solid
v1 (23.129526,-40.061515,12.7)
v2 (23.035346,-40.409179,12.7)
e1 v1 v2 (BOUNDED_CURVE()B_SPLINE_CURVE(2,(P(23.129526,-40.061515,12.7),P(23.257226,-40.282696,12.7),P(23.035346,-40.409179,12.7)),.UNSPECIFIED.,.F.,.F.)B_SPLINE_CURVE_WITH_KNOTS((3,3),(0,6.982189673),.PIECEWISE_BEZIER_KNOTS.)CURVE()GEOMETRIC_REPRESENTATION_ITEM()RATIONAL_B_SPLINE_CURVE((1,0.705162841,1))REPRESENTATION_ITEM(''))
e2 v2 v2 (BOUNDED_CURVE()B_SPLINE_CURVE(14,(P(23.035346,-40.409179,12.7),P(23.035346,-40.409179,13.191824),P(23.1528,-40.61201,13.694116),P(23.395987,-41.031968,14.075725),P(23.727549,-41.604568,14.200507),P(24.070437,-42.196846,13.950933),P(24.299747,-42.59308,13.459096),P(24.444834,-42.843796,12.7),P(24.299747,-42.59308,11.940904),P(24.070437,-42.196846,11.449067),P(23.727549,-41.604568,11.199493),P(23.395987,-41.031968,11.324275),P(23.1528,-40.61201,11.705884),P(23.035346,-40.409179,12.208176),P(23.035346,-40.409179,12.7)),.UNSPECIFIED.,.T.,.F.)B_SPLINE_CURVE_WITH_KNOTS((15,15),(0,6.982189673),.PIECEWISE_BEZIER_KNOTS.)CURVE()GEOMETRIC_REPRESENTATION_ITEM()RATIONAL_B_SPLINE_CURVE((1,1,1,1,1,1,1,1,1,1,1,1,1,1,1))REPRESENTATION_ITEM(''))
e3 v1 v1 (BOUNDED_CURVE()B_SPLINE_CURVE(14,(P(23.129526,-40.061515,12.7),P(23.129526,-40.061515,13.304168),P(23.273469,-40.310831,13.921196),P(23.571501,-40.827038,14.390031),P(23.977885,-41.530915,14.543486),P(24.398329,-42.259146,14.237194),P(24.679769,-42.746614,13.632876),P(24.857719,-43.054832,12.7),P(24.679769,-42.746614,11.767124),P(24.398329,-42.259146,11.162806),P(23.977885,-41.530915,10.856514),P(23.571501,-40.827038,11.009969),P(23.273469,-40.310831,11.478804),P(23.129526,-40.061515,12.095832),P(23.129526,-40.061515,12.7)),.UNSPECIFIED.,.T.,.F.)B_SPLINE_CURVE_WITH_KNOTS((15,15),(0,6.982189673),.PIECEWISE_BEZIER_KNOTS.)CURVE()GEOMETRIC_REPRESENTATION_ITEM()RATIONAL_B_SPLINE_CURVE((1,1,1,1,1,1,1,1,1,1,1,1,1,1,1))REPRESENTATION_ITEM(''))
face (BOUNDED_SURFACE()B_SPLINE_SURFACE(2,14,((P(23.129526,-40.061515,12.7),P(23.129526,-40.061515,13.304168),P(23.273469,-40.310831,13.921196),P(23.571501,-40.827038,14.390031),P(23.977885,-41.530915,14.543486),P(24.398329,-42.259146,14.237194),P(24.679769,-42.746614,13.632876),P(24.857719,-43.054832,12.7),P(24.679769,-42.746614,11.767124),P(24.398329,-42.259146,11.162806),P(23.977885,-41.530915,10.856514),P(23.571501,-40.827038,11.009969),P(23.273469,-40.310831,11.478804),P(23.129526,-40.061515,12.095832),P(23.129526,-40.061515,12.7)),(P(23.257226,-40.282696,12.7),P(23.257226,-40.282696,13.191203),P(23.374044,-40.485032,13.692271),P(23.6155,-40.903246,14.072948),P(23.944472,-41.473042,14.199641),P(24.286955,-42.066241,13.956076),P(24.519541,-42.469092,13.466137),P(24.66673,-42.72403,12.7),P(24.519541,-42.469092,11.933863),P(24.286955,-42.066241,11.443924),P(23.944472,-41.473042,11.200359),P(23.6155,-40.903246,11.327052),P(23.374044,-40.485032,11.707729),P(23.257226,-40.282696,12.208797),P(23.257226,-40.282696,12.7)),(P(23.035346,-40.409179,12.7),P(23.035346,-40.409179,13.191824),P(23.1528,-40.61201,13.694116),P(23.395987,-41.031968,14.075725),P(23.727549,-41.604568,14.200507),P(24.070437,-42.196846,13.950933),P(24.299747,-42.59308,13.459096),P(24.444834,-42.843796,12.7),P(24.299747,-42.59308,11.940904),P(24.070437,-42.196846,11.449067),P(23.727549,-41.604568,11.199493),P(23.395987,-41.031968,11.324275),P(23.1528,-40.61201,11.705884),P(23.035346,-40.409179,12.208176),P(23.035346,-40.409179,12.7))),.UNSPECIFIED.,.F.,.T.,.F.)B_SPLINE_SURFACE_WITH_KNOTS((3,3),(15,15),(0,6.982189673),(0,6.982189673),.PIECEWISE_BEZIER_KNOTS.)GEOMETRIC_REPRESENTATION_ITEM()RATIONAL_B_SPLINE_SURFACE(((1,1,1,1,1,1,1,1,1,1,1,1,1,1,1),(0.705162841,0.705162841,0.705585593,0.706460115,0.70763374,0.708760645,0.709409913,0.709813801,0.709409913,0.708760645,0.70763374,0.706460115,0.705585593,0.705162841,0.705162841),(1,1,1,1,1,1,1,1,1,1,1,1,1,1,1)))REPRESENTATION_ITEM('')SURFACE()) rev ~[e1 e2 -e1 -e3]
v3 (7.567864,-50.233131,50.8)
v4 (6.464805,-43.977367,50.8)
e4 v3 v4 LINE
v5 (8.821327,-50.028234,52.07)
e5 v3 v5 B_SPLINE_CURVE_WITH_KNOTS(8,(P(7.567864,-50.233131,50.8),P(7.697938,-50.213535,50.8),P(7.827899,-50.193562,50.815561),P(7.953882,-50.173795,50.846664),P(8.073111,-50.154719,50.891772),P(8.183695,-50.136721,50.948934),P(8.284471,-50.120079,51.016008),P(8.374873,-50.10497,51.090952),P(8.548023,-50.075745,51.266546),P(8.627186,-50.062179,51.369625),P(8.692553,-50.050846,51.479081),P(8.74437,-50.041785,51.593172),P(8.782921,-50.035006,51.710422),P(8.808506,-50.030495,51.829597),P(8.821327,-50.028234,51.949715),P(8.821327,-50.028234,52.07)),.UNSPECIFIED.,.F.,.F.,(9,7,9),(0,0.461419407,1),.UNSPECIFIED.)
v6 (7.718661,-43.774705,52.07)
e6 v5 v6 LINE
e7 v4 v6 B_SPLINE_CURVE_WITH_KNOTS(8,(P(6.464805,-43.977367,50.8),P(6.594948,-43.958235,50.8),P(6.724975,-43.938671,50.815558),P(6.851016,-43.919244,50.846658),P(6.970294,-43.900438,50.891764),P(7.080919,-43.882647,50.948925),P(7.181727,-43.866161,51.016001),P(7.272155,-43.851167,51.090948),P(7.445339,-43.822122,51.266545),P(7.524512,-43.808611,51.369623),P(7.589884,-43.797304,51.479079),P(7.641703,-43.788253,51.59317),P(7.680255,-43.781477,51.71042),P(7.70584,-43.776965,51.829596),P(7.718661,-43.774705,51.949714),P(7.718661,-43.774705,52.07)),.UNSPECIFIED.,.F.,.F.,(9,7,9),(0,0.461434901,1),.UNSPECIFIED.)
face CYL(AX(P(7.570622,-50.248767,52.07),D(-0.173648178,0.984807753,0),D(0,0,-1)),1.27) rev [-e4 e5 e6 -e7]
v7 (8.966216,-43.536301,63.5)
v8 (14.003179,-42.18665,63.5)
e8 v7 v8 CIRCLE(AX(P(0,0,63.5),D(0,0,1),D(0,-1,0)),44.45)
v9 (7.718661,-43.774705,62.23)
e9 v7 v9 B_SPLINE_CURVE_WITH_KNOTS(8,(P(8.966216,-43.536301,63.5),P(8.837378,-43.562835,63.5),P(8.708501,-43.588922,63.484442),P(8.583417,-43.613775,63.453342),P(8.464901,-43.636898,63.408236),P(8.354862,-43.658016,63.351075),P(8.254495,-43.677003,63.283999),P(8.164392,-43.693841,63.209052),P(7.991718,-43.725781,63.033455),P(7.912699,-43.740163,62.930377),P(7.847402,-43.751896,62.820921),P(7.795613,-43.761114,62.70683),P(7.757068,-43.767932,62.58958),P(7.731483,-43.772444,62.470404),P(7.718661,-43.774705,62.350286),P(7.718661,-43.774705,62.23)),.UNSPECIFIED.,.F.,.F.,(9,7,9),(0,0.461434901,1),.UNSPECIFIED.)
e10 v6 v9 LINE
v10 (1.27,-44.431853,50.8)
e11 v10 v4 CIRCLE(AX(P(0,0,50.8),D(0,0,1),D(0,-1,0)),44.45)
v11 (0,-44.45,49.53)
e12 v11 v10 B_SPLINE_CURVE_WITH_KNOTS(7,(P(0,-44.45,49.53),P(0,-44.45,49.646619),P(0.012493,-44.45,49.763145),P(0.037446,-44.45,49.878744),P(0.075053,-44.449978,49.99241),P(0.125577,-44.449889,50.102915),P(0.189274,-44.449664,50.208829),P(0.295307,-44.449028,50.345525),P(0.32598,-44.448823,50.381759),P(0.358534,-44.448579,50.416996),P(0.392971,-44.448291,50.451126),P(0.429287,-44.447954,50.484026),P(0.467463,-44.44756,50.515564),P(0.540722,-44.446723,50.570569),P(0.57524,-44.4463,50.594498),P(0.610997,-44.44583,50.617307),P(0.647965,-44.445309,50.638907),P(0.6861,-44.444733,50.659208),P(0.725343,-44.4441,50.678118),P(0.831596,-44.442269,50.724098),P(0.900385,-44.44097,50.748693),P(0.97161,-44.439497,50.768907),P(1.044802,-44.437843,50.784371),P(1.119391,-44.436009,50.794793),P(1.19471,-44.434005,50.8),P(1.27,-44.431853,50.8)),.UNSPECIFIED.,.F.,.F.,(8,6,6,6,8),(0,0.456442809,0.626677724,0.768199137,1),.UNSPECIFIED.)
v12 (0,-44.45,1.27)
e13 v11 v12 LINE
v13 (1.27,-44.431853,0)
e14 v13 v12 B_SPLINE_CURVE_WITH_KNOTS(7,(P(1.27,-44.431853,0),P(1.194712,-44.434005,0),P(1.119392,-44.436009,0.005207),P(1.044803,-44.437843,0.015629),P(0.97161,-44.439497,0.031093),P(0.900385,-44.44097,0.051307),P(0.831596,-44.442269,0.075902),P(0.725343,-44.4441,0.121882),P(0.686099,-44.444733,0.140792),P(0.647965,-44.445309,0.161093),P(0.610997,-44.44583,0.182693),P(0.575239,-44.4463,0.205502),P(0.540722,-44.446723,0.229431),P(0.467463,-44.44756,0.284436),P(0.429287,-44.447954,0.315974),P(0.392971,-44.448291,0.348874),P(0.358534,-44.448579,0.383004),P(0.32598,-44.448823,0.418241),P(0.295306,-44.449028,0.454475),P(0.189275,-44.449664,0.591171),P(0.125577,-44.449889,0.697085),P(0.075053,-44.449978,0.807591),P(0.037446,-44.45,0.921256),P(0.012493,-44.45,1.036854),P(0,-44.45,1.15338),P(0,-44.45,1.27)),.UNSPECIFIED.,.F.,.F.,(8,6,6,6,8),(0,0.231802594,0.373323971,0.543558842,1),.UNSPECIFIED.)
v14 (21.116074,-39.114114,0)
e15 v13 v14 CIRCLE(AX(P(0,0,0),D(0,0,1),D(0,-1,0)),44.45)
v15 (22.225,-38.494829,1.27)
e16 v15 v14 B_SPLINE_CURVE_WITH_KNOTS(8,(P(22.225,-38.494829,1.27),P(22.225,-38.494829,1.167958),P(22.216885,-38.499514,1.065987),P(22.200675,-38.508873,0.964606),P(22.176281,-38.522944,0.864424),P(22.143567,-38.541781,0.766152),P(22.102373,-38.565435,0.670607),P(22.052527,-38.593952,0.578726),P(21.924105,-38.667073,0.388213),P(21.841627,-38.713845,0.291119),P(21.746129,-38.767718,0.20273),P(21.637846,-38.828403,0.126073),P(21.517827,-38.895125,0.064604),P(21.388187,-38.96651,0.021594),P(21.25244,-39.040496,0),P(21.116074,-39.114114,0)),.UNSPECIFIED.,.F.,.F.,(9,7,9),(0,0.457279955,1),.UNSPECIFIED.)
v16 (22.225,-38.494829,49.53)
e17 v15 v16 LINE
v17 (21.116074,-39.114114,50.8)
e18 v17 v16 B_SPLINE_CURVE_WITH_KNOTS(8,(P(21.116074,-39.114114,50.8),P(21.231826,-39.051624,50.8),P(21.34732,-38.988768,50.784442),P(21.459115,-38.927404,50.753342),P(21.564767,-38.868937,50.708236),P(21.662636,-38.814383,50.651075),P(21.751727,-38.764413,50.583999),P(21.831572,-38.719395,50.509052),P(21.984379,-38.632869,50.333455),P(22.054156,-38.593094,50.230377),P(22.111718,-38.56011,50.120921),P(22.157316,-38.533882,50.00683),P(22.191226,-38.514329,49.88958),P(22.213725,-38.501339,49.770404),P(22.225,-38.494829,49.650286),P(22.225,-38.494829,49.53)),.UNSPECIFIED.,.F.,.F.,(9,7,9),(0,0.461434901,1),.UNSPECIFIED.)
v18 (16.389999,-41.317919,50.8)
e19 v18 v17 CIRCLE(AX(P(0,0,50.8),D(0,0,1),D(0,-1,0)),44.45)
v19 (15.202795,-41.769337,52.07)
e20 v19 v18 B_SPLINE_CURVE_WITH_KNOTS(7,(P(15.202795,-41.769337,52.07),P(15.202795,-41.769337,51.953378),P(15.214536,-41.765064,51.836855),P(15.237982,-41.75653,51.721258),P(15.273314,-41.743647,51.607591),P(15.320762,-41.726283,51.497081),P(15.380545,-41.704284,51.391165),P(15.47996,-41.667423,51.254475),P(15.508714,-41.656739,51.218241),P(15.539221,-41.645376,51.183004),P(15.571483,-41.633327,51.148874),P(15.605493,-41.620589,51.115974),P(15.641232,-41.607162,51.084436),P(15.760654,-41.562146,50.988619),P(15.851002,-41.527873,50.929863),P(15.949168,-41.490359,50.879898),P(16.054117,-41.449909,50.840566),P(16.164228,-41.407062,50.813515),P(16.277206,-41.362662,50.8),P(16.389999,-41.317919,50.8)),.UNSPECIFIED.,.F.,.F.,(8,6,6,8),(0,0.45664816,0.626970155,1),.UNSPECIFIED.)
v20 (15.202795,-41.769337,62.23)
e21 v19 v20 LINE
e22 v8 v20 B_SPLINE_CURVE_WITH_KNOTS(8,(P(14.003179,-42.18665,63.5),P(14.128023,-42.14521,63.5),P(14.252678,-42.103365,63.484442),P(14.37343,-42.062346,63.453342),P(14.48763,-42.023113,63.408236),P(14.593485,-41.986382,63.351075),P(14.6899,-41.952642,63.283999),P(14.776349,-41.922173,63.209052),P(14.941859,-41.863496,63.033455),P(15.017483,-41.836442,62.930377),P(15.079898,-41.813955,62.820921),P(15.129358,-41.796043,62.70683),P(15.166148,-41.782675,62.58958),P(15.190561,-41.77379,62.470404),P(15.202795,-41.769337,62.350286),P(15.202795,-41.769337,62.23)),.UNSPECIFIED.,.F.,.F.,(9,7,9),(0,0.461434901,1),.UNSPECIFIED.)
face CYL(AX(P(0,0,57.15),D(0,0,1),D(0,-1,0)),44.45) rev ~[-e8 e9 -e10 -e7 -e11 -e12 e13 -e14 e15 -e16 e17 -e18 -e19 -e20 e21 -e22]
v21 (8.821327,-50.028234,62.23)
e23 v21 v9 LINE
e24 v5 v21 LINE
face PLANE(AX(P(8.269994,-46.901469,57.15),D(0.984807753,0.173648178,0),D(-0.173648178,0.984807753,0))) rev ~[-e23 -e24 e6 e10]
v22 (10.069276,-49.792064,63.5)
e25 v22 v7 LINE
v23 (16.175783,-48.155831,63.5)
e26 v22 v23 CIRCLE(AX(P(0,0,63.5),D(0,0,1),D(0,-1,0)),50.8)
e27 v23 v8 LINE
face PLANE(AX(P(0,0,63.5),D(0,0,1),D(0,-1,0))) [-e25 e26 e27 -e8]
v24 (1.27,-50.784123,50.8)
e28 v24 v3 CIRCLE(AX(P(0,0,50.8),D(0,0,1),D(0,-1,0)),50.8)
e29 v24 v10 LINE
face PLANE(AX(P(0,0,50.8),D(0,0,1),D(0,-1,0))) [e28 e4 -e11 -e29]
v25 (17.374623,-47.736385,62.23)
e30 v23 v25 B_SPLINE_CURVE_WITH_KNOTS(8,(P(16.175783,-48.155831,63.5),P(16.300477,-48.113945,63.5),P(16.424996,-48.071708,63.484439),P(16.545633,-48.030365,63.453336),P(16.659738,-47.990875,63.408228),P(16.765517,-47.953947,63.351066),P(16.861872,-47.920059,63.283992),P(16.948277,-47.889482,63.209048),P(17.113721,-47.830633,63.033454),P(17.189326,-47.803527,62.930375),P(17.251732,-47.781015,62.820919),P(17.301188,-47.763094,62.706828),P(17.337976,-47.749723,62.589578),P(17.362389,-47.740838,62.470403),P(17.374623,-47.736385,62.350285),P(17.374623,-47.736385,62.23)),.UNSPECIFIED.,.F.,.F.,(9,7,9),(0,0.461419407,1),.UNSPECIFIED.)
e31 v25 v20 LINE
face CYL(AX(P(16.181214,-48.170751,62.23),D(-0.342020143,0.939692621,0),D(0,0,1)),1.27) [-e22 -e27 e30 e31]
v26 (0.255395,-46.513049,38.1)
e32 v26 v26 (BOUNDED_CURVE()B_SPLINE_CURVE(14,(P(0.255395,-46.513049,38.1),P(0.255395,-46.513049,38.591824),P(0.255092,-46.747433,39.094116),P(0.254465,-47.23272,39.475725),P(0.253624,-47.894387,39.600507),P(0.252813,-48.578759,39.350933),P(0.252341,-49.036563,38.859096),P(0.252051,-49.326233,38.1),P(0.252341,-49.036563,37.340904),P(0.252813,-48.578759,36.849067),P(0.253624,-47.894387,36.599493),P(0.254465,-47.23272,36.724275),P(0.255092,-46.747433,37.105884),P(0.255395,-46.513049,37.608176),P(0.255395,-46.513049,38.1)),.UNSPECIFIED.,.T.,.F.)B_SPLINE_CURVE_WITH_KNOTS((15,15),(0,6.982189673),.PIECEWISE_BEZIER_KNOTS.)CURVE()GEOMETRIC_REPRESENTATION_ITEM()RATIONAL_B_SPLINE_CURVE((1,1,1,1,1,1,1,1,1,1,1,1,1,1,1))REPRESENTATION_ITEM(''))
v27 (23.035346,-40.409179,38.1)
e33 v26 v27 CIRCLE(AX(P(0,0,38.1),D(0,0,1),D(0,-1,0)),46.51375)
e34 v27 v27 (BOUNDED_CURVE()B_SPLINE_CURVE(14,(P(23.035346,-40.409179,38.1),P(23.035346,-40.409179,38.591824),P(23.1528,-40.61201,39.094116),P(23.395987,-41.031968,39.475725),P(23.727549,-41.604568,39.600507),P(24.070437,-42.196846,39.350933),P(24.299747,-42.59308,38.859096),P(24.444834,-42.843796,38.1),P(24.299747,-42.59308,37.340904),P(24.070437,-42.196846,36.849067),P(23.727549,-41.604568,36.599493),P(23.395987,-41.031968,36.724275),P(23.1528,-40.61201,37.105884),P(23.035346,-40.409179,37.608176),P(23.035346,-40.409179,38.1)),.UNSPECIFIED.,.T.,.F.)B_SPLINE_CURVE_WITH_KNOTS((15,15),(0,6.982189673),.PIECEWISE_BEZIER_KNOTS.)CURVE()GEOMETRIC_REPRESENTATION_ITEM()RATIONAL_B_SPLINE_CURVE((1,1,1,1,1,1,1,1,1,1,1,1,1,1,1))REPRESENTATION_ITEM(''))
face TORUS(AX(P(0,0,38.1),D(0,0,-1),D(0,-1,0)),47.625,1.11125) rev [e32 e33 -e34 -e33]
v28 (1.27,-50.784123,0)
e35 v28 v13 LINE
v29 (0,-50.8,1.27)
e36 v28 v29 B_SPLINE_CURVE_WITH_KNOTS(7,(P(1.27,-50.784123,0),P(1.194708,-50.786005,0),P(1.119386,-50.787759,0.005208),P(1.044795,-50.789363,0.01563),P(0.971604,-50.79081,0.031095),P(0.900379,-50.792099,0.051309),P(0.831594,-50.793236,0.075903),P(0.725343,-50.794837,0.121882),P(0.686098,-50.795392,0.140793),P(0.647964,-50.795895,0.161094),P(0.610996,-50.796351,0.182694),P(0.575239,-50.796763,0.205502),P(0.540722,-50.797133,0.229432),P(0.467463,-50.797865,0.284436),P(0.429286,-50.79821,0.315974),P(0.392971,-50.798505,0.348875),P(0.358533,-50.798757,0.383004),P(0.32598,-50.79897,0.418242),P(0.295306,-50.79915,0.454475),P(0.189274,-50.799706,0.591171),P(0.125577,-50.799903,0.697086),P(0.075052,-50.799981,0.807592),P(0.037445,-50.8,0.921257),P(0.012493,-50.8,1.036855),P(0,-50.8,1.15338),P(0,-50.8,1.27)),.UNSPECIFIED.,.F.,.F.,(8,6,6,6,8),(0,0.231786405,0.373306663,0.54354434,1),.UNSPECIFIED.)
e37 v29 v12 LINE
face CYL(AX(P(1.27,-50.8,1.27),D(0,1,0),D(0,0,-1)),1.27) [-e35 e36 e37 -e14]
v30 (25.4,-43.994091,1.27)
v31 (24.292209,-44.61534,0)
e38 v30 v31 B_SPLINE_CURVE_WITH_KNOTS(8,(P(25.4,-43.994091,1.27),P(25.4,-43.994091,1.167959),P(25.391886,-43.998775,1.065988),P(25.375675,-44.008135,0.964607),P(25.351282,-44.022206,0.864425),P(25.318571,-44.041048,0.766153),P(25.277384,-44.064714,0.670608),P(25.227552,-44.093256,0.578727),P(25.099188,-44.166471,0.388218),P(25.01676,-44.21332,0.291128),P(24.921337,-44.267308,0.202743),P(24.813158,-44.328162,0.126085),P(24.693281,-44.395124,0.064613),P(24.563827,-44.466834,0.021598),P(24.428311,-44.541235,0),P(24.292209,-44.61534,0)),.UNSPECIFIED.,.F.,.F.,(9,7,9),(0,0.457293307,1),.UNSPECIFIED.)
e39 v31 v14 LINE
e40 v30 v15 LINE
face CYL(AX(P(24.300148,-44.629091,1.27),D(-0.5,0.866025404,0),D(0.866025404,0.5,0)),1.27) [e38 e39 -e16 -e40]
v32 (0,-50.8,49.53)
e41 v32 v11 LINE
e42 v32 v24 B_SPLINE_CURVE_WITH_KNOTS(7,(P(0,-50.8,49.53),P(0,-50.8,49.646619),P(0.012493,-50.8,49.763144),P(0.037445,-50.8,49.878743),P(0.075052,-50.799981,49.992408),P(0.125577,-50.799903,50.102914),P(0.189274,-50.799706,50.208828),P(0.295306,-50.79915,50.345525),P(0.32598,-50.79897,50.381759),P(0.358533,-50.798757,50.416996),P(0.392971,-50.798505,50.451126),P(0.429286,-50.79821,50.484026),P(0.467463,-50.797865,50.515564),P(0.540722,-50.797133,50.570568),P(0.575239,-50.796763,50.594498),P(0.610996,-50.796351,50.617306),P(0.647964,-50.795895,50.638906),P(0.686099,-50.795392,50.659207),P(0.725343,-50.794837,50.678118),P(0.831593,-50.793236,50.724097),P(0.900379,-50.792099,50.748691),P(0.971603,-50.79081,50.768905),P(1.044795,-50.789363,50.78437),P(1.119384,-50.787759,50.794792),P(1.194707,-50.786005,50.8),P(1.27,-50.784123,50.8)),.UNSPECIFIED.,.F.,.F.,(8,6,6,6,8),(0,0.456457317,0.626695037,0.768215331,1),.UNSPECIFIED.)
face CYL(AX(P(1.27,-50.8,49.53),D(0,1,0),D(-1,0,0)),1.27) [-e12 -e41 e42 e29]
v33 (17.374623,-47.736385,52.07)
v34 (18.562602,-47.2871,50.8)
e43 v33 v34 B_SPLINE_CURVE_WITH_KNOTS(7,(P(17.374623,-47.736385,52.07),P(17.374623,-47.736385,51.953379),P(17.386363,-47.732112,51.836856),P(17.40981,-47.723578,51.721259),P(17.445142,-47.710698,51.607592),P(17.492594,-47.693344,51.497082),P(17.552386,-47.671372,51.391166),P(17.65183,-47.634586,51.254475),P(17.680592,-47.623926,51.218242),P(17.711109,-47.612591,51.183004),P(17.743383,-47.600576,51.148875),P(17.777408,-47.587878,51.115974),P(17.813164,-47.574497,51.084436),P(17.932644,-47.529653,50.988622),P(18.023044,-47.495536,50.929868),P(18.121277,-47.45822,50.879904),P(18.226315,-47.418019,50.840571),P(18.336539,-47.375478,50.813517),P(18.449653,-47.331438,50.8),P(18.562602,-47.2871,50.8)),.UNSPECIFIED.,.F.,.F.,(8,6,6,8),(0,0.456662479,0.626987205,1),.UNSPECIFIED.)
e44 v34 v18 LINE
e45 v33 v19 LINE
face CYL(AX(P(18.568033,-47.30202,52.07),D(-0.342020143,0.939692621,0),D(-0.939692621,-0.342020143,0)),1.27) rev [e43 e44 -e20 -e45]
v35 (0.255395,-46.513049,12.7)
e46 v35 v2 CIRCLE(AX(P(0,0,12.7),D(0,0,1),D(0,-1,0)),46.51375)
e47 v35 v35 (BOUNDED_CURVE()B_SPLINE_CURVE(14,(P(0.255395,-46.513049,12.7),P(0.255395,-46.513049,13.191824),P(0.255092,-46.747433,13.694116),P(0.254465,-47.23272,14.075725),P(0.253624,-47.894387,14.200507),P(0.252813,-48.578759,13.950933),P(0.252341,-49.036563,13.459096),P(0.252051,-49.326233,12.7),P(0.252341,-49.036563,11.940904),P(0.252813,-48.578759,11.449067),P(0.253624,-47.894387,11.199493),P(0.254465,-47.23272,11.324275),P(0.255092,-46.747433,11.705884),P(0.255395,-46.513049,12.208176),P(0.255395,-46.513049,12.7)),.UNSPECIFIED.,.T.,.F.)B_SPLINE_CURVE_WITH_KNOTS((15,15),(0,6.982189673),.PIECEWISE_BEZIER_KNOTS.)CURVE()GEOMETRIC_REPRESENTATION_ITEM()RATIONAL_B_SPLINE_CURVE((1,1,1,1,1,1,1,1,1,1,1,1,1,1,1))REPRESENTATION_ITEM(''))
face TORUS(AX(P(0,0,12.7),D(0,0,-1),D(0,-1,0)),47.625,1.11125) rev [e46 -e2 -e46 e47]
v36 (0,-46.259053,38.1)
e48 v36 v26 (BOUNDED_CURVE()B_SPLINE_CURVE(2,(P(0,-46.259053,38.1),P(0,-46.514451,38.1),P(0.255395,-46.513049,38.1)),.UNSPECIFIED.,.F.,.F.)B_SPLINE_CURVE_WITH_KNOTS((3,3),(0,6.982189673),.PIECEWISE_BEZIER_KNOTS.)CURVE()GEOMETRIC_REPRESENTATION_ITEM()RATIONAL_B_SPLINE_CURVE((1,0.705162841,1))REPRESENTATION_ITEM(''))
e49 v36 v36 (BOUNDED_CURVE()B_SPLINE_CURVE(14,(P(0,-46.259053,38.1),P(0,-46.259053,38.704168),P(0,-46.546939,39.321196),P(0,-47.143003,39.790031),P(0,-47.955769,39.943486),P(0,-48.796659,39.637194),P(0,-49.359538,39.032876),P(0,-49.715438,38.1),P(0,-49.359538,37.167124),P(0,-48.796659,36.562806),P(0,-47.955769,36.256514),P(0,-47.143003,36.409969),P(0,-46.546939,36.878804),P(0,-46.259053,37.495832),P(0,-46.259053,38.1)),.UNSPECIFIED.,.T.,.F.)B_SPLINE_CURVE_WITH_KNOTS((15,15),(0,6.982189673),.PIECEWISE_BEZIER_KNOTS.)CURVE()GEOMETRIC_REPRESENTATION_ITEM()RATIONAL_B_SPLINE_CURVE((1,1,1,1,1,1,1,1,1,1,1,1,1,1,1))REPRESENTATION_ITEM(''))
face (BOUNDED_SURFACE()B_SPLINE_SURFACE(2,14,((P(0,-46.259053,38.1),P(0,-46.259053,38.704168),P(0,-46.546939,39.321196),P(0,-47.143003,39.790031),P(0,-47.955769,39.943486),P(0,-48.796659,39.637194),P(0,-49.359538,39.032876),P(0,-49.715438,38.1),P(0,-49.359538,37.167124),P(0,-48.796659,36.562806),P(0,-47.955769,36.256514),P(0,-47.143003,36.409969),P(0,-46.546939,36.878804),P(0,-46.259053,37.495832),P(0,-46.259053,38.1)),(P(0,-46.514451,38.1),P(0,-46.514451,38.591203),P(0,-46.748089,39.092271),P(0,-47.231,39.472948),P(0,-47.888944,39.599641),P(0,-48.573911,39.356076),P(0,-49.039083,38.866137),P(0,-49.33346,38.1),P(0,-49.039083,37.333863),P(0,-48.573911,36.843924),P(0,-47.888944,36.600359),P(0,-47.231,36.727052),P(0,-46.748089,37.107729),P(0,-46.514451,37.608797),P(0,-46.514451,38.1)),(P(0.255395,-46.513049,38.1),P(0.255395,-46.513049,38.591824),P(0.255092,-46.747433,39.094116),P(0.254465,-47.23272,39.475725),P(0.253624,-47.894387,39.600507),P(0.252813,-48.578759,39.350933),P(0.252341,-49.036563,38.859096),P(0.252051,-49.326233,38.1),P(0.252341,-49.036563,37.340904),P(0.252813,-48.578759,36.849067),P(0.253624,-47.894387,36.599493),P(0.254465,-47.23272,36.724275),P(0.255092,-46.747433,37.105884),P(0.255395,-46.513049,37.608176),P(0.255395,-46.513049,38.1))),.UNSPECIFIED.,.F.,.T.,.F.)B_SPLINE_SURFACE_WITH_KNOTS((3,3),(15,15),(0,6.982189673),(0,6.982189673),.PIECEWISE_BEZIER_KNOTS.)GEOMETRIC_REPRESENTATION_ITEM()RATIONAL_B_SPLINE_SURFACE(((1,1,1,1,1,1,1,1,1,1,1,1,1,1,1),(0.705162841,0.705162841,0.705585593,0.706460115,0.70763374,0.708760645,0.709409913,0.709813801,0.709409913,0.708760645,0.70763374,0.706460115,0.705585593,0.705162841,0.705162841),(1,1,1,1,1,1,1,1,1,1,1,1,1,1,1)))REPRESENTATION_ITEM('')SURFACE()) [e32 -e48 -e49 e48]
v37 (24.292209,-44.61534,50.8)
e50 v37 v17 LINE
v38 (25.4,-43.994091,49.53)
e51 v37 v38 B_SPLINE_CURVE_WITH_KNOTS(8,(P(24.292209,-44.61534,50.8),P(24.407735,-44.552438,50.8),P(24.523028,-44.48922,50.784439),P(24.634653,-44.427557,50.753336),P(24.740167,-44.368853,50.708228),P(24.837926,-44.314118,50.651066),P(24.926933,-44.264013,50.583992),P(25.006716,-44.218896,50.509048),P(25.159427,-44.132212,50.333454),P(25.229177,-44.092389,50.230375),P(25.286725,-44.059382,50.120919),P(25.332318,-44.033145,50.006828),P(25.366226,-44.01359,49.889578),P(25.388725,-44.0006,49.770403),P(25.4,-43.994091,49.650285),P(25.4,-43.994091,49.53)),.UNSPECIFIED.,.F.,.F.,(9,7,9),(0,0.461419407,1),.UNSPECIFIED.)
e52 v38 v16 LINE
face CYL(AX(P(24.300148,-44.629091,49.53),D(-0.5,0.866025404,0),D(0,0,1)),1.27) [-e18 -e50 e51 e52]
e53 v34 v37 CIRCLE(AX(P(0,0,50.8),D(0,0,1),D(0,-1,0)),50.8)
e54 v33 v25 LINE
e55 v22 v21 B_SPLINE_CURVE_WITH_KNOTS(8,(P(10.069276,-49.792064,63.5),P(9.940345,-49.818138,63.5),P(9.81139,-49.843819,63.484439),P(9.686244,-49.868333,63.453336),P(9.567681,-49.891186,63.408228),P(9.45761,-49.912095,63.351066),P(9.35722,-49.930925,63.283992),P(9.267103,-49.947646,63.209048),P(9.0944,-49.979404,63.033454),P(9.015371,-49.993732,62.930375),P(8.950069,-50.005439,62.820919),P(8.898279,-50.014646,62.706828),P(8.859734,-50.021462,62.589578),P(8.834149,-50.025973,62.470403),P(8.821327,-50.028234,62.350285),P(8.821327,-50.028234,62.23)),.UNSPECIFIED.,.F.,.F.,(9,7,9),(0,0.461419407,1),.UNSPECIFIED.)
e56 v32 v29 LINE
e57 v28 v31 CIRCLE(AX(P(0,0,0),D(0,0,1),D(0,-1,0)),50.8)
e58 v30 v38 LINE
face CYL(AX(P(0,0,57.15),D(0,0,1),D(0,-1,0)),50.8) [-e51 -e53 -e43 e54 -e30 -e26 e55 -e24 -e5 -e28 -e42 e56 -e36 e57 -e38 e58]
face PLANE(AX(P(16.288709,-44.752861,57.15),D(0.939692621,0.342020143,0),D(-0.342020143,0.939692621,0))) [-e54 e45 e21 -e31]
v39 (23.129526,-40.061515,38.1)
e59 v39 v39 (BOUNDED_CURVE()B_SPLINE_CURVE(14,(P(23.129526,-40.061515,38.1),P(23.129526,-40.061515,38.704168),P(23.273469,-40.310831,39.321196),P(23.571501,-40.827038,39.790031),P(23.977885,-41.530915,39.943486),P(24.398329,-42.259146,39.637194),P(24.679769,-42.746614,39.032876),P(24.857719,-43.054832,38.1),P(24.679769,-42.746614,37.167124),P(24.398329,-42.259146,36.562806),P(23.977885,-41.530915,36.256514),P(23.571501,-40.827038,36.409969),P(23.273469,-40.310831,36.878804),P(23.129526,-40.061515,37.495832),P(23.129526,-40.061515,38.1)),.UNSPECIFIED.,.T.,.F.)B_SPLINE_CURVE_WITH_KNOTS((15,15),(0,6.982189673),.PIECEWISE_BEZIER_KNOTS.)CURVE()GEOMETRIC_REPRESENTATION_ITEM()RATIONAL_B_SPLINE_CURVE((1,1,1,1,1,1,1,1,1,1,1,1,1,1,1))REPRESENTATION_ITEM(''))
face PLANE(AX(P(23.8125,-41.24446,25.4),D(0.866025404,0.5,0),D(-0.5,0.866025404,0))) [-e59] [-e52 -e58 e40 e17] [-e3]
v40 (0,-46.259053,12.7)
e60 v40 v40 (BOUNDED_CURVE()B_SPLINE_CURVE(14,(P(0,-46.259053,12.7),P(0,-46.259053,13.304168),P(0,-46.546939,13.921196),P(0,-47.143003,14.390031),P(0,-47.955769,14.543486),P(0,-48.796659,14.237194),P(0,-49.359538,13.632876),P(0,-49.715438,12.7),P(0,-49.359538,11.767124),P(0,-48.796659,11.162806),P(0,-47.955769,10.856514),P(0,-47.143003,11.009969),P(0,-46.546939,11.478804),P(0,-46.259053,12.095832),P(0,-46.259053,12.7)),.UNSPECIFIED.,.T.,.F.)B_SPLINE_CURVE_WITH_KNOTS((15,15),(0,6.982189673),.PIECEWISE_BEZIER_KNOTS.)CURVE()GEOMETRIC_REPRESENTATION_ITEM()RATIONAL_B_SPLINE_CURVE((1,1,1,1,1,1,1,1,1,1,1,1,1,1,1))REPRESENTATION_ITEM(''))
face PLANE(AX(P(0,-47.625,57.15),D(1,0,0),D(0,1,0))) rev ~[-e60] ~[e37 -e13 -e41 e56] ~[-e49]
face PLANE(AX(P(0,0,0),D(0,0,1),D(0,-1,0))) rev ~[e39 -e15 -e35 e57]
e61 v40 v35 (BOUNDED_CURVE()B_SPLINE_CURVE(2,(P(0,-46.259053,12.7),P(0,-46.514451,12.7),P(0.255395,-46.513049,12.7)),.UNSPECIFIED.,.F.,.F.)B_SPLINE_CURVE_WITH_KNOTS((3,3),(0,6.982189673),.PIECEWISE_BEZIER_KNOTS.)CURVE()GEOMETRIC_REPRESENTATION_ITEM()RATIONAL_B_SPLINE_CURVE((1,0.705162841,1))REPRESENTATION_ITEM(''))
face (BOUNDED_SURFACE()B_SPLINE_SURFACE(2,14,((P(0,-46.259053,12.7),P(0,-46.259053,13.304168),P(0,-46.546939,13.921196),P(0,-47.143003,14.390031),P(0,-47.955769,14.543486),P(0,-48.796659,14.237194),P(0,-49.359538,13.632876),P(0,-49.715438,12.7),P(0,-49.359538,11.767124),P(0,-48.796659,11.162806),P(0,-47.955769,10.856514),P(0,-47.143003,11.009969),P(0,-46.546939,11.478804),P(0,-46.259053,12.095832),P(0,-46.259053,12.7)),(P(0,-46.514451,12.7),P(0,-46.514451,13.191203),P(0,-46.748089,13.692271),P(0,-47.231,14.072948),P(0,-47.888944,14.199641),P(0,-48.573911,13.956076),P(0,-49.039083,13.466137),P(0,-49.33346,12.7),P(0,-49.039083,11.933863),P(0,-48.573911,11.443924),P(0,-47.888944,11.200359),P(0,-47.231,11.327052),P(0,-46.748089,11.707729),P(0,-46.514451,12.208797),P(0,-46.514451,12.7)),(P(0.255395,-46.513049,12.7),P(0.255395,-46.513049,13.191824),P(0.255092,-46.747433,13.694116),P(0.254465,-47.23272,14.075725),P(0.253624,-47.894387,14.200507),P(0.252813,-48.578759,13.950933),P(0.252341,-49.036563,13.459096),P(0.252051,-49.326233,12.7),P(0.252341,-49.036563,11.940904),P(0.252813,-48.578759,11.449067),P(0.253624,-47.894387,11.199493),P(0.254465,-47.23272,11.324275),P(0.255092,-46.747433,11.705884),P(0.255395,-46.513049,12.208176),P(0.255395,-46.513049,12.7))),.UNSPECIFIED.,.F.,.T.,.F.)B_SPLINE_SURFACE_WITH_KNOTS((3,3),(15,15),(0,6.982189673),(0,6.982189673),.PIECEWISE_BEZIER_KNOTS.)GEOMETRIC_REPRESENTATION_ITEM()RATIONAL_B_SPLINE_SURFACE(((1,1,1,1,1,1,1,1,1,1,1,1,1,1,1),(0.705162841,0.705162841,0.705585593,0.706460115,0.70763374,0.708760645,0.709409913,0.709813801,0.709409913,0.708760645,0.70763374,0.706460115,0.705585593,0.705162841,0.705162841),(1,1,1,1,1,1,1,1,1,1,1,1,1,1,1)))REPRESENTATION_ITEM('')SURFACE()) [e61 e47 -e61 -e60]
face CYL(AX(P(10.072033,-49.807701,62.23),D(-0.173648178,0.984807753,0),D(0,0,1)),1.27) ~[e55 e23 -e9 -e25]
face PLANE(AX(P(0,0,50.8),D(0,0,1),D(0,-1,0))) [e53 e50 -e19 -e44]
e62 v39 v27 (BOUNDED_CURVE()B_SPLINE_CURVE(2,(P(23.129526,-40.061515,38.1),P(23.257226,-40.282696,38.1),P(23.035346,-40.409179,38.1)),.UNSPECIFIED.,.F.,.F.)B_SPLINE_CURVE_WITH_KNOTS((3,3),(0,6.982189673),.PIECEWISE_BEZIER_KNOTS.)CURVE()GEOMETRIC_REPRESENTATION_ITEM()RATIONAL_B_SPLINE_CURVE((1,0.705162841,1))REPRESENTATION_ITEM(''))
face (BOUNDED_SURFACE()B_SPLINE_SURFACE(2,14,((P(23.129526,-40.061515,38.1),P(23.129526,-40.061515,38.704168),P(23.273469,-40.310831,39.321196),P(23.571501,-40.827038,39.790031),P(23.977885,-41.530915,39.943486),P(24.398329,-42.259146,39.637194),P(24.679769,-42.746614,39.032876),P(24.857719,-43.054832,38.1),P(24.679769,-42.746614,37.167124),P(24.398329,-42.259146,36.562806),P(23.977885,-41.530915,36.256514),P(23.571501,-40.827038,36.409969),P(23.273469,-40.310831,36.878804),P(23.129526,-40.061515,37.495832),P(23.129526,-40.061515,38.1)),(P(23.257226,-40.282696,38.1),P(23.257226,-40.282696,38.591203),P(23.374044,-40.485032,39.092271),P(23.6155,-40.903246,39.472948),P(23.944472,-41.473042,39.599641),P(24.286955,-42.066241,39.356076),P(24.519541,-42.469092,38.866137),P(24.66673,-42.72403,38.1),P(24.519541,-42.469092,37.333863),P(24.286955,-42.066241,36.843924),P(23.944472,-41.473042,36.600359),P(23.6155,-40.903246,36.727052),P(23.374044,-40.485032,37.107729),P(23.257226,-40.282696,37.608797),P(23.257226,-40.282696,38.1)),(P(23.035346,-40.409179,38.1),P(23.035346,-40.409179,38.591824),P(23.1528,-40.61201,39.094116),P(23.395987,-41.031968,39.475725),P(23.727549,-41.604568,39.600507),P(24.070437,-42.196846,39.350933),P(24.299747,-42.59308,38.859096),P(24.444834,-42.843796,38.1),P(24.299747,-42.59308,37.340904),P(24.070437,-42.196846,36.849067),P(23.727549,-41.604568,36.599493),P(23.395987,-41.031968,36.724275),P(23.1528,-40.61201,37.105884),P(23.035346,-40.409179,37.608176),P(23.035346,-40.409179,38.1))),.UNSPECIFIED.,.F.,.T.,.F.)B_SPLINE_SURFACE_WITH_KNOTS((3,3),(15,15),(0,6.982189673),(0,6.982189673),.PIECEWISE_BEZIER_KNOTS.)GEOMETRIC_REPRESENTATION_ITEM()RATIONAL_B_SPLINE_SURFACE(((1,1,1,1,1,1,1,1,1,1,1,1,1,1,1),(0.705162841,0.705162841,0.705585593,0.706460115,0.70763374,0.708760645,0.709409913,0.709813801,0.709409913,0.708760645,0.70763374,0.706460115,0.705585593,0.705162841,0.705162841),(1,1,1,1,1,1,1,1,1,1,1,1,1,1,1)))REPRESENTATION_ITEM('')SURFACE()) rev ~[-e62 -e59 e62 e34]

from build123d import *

# Parameters (mm, degrees)
F0_W     = 6.35
F0_H     = 50.8
F2_ANGLE = 30
F3_W     = 6.35
F3_H     = 12.7
F4_ANGLE = 20
F5_ANGLE = 10
F6_R     = 1.27
F7_R     = 1.11125
F9_R     = 0.254


with BuildPart() as f2:
    # F0 (on Right) → F2 (revolve)
    with BuildSketch(Plane.YZ):
        with Locations((-47.625, 25.4)):
            Rectangle(F0_W, F0_H)
    revolve(axis=Axis((0, 0, 29.2990189046), (0, 0, 1)), revolution_arc=F2_ANGLE)

    # F3 (on Right) → F4 (revolve)
    with BuildSketch(Plane.YZ):
        with Locations((-47.625, 57.15)):
            Rectangle(F3_W, F3_H)
    revolve(axis=Axis((0, 0, 29.2990189046), (0, 0, 1)), revolution_arc=F4_ANGLE)

    # F3 (on Right) → F5 (revolve, cut)
    with BuildSketch(Plane.YZ):
        with Locations((-47.625, 57.15)):
            Rectangle(F3_W, F3_H)
    revolve(axis=Axis((0, 0, 29.2990189046), (0, 0, 1)), revolution_arc=F5_ANGLE, mode=Mode.SUBTRACT)

    # F6
    f6_edges = [f2.edges().sort_by_distance(p)[0] for p in [
        (16.288709, -44.752861, 63.5),
        (8.269994, -46.901469, 63.5),
        (23.8125, -41.24446, 50.8),
        (8.269994, -46.901469, 50.8),
        (0, -47.625, 0),
        (23.8125, -41.24446, 0),
        (16.288709, -44.752861, 50.8),
        (0, -47.625, 50.8),
    ]]
    fillet(f6_edges, radius=F6_R)

    # F7 (on Right) → F8 (revolve, cut)
    with BuildSketch(Plane.YZ):
        with Locations((-47.625, 38.1)):
            Circle(F7_R)
        with Locations((-47.625, 12.7)):
            Circle(F7_R)
    revolve(axis=Axis((0, 0, 29.2990189046), (0, 0, 1)), mode=Mode.SUBTRACT)

    # F9
    f9_edges = [f2.edges().sort_by_distance(p)[0] for p in [
        (24.368125, -42.206831, 38.1),
        (24.368125, -42.206831, 12.7),
        (0, -48.73625, 38.1),
        (0, -48.73625, 12.7),
    ]]
    fillet(f9_edges, radius=F9_R)


solid = f2.part
